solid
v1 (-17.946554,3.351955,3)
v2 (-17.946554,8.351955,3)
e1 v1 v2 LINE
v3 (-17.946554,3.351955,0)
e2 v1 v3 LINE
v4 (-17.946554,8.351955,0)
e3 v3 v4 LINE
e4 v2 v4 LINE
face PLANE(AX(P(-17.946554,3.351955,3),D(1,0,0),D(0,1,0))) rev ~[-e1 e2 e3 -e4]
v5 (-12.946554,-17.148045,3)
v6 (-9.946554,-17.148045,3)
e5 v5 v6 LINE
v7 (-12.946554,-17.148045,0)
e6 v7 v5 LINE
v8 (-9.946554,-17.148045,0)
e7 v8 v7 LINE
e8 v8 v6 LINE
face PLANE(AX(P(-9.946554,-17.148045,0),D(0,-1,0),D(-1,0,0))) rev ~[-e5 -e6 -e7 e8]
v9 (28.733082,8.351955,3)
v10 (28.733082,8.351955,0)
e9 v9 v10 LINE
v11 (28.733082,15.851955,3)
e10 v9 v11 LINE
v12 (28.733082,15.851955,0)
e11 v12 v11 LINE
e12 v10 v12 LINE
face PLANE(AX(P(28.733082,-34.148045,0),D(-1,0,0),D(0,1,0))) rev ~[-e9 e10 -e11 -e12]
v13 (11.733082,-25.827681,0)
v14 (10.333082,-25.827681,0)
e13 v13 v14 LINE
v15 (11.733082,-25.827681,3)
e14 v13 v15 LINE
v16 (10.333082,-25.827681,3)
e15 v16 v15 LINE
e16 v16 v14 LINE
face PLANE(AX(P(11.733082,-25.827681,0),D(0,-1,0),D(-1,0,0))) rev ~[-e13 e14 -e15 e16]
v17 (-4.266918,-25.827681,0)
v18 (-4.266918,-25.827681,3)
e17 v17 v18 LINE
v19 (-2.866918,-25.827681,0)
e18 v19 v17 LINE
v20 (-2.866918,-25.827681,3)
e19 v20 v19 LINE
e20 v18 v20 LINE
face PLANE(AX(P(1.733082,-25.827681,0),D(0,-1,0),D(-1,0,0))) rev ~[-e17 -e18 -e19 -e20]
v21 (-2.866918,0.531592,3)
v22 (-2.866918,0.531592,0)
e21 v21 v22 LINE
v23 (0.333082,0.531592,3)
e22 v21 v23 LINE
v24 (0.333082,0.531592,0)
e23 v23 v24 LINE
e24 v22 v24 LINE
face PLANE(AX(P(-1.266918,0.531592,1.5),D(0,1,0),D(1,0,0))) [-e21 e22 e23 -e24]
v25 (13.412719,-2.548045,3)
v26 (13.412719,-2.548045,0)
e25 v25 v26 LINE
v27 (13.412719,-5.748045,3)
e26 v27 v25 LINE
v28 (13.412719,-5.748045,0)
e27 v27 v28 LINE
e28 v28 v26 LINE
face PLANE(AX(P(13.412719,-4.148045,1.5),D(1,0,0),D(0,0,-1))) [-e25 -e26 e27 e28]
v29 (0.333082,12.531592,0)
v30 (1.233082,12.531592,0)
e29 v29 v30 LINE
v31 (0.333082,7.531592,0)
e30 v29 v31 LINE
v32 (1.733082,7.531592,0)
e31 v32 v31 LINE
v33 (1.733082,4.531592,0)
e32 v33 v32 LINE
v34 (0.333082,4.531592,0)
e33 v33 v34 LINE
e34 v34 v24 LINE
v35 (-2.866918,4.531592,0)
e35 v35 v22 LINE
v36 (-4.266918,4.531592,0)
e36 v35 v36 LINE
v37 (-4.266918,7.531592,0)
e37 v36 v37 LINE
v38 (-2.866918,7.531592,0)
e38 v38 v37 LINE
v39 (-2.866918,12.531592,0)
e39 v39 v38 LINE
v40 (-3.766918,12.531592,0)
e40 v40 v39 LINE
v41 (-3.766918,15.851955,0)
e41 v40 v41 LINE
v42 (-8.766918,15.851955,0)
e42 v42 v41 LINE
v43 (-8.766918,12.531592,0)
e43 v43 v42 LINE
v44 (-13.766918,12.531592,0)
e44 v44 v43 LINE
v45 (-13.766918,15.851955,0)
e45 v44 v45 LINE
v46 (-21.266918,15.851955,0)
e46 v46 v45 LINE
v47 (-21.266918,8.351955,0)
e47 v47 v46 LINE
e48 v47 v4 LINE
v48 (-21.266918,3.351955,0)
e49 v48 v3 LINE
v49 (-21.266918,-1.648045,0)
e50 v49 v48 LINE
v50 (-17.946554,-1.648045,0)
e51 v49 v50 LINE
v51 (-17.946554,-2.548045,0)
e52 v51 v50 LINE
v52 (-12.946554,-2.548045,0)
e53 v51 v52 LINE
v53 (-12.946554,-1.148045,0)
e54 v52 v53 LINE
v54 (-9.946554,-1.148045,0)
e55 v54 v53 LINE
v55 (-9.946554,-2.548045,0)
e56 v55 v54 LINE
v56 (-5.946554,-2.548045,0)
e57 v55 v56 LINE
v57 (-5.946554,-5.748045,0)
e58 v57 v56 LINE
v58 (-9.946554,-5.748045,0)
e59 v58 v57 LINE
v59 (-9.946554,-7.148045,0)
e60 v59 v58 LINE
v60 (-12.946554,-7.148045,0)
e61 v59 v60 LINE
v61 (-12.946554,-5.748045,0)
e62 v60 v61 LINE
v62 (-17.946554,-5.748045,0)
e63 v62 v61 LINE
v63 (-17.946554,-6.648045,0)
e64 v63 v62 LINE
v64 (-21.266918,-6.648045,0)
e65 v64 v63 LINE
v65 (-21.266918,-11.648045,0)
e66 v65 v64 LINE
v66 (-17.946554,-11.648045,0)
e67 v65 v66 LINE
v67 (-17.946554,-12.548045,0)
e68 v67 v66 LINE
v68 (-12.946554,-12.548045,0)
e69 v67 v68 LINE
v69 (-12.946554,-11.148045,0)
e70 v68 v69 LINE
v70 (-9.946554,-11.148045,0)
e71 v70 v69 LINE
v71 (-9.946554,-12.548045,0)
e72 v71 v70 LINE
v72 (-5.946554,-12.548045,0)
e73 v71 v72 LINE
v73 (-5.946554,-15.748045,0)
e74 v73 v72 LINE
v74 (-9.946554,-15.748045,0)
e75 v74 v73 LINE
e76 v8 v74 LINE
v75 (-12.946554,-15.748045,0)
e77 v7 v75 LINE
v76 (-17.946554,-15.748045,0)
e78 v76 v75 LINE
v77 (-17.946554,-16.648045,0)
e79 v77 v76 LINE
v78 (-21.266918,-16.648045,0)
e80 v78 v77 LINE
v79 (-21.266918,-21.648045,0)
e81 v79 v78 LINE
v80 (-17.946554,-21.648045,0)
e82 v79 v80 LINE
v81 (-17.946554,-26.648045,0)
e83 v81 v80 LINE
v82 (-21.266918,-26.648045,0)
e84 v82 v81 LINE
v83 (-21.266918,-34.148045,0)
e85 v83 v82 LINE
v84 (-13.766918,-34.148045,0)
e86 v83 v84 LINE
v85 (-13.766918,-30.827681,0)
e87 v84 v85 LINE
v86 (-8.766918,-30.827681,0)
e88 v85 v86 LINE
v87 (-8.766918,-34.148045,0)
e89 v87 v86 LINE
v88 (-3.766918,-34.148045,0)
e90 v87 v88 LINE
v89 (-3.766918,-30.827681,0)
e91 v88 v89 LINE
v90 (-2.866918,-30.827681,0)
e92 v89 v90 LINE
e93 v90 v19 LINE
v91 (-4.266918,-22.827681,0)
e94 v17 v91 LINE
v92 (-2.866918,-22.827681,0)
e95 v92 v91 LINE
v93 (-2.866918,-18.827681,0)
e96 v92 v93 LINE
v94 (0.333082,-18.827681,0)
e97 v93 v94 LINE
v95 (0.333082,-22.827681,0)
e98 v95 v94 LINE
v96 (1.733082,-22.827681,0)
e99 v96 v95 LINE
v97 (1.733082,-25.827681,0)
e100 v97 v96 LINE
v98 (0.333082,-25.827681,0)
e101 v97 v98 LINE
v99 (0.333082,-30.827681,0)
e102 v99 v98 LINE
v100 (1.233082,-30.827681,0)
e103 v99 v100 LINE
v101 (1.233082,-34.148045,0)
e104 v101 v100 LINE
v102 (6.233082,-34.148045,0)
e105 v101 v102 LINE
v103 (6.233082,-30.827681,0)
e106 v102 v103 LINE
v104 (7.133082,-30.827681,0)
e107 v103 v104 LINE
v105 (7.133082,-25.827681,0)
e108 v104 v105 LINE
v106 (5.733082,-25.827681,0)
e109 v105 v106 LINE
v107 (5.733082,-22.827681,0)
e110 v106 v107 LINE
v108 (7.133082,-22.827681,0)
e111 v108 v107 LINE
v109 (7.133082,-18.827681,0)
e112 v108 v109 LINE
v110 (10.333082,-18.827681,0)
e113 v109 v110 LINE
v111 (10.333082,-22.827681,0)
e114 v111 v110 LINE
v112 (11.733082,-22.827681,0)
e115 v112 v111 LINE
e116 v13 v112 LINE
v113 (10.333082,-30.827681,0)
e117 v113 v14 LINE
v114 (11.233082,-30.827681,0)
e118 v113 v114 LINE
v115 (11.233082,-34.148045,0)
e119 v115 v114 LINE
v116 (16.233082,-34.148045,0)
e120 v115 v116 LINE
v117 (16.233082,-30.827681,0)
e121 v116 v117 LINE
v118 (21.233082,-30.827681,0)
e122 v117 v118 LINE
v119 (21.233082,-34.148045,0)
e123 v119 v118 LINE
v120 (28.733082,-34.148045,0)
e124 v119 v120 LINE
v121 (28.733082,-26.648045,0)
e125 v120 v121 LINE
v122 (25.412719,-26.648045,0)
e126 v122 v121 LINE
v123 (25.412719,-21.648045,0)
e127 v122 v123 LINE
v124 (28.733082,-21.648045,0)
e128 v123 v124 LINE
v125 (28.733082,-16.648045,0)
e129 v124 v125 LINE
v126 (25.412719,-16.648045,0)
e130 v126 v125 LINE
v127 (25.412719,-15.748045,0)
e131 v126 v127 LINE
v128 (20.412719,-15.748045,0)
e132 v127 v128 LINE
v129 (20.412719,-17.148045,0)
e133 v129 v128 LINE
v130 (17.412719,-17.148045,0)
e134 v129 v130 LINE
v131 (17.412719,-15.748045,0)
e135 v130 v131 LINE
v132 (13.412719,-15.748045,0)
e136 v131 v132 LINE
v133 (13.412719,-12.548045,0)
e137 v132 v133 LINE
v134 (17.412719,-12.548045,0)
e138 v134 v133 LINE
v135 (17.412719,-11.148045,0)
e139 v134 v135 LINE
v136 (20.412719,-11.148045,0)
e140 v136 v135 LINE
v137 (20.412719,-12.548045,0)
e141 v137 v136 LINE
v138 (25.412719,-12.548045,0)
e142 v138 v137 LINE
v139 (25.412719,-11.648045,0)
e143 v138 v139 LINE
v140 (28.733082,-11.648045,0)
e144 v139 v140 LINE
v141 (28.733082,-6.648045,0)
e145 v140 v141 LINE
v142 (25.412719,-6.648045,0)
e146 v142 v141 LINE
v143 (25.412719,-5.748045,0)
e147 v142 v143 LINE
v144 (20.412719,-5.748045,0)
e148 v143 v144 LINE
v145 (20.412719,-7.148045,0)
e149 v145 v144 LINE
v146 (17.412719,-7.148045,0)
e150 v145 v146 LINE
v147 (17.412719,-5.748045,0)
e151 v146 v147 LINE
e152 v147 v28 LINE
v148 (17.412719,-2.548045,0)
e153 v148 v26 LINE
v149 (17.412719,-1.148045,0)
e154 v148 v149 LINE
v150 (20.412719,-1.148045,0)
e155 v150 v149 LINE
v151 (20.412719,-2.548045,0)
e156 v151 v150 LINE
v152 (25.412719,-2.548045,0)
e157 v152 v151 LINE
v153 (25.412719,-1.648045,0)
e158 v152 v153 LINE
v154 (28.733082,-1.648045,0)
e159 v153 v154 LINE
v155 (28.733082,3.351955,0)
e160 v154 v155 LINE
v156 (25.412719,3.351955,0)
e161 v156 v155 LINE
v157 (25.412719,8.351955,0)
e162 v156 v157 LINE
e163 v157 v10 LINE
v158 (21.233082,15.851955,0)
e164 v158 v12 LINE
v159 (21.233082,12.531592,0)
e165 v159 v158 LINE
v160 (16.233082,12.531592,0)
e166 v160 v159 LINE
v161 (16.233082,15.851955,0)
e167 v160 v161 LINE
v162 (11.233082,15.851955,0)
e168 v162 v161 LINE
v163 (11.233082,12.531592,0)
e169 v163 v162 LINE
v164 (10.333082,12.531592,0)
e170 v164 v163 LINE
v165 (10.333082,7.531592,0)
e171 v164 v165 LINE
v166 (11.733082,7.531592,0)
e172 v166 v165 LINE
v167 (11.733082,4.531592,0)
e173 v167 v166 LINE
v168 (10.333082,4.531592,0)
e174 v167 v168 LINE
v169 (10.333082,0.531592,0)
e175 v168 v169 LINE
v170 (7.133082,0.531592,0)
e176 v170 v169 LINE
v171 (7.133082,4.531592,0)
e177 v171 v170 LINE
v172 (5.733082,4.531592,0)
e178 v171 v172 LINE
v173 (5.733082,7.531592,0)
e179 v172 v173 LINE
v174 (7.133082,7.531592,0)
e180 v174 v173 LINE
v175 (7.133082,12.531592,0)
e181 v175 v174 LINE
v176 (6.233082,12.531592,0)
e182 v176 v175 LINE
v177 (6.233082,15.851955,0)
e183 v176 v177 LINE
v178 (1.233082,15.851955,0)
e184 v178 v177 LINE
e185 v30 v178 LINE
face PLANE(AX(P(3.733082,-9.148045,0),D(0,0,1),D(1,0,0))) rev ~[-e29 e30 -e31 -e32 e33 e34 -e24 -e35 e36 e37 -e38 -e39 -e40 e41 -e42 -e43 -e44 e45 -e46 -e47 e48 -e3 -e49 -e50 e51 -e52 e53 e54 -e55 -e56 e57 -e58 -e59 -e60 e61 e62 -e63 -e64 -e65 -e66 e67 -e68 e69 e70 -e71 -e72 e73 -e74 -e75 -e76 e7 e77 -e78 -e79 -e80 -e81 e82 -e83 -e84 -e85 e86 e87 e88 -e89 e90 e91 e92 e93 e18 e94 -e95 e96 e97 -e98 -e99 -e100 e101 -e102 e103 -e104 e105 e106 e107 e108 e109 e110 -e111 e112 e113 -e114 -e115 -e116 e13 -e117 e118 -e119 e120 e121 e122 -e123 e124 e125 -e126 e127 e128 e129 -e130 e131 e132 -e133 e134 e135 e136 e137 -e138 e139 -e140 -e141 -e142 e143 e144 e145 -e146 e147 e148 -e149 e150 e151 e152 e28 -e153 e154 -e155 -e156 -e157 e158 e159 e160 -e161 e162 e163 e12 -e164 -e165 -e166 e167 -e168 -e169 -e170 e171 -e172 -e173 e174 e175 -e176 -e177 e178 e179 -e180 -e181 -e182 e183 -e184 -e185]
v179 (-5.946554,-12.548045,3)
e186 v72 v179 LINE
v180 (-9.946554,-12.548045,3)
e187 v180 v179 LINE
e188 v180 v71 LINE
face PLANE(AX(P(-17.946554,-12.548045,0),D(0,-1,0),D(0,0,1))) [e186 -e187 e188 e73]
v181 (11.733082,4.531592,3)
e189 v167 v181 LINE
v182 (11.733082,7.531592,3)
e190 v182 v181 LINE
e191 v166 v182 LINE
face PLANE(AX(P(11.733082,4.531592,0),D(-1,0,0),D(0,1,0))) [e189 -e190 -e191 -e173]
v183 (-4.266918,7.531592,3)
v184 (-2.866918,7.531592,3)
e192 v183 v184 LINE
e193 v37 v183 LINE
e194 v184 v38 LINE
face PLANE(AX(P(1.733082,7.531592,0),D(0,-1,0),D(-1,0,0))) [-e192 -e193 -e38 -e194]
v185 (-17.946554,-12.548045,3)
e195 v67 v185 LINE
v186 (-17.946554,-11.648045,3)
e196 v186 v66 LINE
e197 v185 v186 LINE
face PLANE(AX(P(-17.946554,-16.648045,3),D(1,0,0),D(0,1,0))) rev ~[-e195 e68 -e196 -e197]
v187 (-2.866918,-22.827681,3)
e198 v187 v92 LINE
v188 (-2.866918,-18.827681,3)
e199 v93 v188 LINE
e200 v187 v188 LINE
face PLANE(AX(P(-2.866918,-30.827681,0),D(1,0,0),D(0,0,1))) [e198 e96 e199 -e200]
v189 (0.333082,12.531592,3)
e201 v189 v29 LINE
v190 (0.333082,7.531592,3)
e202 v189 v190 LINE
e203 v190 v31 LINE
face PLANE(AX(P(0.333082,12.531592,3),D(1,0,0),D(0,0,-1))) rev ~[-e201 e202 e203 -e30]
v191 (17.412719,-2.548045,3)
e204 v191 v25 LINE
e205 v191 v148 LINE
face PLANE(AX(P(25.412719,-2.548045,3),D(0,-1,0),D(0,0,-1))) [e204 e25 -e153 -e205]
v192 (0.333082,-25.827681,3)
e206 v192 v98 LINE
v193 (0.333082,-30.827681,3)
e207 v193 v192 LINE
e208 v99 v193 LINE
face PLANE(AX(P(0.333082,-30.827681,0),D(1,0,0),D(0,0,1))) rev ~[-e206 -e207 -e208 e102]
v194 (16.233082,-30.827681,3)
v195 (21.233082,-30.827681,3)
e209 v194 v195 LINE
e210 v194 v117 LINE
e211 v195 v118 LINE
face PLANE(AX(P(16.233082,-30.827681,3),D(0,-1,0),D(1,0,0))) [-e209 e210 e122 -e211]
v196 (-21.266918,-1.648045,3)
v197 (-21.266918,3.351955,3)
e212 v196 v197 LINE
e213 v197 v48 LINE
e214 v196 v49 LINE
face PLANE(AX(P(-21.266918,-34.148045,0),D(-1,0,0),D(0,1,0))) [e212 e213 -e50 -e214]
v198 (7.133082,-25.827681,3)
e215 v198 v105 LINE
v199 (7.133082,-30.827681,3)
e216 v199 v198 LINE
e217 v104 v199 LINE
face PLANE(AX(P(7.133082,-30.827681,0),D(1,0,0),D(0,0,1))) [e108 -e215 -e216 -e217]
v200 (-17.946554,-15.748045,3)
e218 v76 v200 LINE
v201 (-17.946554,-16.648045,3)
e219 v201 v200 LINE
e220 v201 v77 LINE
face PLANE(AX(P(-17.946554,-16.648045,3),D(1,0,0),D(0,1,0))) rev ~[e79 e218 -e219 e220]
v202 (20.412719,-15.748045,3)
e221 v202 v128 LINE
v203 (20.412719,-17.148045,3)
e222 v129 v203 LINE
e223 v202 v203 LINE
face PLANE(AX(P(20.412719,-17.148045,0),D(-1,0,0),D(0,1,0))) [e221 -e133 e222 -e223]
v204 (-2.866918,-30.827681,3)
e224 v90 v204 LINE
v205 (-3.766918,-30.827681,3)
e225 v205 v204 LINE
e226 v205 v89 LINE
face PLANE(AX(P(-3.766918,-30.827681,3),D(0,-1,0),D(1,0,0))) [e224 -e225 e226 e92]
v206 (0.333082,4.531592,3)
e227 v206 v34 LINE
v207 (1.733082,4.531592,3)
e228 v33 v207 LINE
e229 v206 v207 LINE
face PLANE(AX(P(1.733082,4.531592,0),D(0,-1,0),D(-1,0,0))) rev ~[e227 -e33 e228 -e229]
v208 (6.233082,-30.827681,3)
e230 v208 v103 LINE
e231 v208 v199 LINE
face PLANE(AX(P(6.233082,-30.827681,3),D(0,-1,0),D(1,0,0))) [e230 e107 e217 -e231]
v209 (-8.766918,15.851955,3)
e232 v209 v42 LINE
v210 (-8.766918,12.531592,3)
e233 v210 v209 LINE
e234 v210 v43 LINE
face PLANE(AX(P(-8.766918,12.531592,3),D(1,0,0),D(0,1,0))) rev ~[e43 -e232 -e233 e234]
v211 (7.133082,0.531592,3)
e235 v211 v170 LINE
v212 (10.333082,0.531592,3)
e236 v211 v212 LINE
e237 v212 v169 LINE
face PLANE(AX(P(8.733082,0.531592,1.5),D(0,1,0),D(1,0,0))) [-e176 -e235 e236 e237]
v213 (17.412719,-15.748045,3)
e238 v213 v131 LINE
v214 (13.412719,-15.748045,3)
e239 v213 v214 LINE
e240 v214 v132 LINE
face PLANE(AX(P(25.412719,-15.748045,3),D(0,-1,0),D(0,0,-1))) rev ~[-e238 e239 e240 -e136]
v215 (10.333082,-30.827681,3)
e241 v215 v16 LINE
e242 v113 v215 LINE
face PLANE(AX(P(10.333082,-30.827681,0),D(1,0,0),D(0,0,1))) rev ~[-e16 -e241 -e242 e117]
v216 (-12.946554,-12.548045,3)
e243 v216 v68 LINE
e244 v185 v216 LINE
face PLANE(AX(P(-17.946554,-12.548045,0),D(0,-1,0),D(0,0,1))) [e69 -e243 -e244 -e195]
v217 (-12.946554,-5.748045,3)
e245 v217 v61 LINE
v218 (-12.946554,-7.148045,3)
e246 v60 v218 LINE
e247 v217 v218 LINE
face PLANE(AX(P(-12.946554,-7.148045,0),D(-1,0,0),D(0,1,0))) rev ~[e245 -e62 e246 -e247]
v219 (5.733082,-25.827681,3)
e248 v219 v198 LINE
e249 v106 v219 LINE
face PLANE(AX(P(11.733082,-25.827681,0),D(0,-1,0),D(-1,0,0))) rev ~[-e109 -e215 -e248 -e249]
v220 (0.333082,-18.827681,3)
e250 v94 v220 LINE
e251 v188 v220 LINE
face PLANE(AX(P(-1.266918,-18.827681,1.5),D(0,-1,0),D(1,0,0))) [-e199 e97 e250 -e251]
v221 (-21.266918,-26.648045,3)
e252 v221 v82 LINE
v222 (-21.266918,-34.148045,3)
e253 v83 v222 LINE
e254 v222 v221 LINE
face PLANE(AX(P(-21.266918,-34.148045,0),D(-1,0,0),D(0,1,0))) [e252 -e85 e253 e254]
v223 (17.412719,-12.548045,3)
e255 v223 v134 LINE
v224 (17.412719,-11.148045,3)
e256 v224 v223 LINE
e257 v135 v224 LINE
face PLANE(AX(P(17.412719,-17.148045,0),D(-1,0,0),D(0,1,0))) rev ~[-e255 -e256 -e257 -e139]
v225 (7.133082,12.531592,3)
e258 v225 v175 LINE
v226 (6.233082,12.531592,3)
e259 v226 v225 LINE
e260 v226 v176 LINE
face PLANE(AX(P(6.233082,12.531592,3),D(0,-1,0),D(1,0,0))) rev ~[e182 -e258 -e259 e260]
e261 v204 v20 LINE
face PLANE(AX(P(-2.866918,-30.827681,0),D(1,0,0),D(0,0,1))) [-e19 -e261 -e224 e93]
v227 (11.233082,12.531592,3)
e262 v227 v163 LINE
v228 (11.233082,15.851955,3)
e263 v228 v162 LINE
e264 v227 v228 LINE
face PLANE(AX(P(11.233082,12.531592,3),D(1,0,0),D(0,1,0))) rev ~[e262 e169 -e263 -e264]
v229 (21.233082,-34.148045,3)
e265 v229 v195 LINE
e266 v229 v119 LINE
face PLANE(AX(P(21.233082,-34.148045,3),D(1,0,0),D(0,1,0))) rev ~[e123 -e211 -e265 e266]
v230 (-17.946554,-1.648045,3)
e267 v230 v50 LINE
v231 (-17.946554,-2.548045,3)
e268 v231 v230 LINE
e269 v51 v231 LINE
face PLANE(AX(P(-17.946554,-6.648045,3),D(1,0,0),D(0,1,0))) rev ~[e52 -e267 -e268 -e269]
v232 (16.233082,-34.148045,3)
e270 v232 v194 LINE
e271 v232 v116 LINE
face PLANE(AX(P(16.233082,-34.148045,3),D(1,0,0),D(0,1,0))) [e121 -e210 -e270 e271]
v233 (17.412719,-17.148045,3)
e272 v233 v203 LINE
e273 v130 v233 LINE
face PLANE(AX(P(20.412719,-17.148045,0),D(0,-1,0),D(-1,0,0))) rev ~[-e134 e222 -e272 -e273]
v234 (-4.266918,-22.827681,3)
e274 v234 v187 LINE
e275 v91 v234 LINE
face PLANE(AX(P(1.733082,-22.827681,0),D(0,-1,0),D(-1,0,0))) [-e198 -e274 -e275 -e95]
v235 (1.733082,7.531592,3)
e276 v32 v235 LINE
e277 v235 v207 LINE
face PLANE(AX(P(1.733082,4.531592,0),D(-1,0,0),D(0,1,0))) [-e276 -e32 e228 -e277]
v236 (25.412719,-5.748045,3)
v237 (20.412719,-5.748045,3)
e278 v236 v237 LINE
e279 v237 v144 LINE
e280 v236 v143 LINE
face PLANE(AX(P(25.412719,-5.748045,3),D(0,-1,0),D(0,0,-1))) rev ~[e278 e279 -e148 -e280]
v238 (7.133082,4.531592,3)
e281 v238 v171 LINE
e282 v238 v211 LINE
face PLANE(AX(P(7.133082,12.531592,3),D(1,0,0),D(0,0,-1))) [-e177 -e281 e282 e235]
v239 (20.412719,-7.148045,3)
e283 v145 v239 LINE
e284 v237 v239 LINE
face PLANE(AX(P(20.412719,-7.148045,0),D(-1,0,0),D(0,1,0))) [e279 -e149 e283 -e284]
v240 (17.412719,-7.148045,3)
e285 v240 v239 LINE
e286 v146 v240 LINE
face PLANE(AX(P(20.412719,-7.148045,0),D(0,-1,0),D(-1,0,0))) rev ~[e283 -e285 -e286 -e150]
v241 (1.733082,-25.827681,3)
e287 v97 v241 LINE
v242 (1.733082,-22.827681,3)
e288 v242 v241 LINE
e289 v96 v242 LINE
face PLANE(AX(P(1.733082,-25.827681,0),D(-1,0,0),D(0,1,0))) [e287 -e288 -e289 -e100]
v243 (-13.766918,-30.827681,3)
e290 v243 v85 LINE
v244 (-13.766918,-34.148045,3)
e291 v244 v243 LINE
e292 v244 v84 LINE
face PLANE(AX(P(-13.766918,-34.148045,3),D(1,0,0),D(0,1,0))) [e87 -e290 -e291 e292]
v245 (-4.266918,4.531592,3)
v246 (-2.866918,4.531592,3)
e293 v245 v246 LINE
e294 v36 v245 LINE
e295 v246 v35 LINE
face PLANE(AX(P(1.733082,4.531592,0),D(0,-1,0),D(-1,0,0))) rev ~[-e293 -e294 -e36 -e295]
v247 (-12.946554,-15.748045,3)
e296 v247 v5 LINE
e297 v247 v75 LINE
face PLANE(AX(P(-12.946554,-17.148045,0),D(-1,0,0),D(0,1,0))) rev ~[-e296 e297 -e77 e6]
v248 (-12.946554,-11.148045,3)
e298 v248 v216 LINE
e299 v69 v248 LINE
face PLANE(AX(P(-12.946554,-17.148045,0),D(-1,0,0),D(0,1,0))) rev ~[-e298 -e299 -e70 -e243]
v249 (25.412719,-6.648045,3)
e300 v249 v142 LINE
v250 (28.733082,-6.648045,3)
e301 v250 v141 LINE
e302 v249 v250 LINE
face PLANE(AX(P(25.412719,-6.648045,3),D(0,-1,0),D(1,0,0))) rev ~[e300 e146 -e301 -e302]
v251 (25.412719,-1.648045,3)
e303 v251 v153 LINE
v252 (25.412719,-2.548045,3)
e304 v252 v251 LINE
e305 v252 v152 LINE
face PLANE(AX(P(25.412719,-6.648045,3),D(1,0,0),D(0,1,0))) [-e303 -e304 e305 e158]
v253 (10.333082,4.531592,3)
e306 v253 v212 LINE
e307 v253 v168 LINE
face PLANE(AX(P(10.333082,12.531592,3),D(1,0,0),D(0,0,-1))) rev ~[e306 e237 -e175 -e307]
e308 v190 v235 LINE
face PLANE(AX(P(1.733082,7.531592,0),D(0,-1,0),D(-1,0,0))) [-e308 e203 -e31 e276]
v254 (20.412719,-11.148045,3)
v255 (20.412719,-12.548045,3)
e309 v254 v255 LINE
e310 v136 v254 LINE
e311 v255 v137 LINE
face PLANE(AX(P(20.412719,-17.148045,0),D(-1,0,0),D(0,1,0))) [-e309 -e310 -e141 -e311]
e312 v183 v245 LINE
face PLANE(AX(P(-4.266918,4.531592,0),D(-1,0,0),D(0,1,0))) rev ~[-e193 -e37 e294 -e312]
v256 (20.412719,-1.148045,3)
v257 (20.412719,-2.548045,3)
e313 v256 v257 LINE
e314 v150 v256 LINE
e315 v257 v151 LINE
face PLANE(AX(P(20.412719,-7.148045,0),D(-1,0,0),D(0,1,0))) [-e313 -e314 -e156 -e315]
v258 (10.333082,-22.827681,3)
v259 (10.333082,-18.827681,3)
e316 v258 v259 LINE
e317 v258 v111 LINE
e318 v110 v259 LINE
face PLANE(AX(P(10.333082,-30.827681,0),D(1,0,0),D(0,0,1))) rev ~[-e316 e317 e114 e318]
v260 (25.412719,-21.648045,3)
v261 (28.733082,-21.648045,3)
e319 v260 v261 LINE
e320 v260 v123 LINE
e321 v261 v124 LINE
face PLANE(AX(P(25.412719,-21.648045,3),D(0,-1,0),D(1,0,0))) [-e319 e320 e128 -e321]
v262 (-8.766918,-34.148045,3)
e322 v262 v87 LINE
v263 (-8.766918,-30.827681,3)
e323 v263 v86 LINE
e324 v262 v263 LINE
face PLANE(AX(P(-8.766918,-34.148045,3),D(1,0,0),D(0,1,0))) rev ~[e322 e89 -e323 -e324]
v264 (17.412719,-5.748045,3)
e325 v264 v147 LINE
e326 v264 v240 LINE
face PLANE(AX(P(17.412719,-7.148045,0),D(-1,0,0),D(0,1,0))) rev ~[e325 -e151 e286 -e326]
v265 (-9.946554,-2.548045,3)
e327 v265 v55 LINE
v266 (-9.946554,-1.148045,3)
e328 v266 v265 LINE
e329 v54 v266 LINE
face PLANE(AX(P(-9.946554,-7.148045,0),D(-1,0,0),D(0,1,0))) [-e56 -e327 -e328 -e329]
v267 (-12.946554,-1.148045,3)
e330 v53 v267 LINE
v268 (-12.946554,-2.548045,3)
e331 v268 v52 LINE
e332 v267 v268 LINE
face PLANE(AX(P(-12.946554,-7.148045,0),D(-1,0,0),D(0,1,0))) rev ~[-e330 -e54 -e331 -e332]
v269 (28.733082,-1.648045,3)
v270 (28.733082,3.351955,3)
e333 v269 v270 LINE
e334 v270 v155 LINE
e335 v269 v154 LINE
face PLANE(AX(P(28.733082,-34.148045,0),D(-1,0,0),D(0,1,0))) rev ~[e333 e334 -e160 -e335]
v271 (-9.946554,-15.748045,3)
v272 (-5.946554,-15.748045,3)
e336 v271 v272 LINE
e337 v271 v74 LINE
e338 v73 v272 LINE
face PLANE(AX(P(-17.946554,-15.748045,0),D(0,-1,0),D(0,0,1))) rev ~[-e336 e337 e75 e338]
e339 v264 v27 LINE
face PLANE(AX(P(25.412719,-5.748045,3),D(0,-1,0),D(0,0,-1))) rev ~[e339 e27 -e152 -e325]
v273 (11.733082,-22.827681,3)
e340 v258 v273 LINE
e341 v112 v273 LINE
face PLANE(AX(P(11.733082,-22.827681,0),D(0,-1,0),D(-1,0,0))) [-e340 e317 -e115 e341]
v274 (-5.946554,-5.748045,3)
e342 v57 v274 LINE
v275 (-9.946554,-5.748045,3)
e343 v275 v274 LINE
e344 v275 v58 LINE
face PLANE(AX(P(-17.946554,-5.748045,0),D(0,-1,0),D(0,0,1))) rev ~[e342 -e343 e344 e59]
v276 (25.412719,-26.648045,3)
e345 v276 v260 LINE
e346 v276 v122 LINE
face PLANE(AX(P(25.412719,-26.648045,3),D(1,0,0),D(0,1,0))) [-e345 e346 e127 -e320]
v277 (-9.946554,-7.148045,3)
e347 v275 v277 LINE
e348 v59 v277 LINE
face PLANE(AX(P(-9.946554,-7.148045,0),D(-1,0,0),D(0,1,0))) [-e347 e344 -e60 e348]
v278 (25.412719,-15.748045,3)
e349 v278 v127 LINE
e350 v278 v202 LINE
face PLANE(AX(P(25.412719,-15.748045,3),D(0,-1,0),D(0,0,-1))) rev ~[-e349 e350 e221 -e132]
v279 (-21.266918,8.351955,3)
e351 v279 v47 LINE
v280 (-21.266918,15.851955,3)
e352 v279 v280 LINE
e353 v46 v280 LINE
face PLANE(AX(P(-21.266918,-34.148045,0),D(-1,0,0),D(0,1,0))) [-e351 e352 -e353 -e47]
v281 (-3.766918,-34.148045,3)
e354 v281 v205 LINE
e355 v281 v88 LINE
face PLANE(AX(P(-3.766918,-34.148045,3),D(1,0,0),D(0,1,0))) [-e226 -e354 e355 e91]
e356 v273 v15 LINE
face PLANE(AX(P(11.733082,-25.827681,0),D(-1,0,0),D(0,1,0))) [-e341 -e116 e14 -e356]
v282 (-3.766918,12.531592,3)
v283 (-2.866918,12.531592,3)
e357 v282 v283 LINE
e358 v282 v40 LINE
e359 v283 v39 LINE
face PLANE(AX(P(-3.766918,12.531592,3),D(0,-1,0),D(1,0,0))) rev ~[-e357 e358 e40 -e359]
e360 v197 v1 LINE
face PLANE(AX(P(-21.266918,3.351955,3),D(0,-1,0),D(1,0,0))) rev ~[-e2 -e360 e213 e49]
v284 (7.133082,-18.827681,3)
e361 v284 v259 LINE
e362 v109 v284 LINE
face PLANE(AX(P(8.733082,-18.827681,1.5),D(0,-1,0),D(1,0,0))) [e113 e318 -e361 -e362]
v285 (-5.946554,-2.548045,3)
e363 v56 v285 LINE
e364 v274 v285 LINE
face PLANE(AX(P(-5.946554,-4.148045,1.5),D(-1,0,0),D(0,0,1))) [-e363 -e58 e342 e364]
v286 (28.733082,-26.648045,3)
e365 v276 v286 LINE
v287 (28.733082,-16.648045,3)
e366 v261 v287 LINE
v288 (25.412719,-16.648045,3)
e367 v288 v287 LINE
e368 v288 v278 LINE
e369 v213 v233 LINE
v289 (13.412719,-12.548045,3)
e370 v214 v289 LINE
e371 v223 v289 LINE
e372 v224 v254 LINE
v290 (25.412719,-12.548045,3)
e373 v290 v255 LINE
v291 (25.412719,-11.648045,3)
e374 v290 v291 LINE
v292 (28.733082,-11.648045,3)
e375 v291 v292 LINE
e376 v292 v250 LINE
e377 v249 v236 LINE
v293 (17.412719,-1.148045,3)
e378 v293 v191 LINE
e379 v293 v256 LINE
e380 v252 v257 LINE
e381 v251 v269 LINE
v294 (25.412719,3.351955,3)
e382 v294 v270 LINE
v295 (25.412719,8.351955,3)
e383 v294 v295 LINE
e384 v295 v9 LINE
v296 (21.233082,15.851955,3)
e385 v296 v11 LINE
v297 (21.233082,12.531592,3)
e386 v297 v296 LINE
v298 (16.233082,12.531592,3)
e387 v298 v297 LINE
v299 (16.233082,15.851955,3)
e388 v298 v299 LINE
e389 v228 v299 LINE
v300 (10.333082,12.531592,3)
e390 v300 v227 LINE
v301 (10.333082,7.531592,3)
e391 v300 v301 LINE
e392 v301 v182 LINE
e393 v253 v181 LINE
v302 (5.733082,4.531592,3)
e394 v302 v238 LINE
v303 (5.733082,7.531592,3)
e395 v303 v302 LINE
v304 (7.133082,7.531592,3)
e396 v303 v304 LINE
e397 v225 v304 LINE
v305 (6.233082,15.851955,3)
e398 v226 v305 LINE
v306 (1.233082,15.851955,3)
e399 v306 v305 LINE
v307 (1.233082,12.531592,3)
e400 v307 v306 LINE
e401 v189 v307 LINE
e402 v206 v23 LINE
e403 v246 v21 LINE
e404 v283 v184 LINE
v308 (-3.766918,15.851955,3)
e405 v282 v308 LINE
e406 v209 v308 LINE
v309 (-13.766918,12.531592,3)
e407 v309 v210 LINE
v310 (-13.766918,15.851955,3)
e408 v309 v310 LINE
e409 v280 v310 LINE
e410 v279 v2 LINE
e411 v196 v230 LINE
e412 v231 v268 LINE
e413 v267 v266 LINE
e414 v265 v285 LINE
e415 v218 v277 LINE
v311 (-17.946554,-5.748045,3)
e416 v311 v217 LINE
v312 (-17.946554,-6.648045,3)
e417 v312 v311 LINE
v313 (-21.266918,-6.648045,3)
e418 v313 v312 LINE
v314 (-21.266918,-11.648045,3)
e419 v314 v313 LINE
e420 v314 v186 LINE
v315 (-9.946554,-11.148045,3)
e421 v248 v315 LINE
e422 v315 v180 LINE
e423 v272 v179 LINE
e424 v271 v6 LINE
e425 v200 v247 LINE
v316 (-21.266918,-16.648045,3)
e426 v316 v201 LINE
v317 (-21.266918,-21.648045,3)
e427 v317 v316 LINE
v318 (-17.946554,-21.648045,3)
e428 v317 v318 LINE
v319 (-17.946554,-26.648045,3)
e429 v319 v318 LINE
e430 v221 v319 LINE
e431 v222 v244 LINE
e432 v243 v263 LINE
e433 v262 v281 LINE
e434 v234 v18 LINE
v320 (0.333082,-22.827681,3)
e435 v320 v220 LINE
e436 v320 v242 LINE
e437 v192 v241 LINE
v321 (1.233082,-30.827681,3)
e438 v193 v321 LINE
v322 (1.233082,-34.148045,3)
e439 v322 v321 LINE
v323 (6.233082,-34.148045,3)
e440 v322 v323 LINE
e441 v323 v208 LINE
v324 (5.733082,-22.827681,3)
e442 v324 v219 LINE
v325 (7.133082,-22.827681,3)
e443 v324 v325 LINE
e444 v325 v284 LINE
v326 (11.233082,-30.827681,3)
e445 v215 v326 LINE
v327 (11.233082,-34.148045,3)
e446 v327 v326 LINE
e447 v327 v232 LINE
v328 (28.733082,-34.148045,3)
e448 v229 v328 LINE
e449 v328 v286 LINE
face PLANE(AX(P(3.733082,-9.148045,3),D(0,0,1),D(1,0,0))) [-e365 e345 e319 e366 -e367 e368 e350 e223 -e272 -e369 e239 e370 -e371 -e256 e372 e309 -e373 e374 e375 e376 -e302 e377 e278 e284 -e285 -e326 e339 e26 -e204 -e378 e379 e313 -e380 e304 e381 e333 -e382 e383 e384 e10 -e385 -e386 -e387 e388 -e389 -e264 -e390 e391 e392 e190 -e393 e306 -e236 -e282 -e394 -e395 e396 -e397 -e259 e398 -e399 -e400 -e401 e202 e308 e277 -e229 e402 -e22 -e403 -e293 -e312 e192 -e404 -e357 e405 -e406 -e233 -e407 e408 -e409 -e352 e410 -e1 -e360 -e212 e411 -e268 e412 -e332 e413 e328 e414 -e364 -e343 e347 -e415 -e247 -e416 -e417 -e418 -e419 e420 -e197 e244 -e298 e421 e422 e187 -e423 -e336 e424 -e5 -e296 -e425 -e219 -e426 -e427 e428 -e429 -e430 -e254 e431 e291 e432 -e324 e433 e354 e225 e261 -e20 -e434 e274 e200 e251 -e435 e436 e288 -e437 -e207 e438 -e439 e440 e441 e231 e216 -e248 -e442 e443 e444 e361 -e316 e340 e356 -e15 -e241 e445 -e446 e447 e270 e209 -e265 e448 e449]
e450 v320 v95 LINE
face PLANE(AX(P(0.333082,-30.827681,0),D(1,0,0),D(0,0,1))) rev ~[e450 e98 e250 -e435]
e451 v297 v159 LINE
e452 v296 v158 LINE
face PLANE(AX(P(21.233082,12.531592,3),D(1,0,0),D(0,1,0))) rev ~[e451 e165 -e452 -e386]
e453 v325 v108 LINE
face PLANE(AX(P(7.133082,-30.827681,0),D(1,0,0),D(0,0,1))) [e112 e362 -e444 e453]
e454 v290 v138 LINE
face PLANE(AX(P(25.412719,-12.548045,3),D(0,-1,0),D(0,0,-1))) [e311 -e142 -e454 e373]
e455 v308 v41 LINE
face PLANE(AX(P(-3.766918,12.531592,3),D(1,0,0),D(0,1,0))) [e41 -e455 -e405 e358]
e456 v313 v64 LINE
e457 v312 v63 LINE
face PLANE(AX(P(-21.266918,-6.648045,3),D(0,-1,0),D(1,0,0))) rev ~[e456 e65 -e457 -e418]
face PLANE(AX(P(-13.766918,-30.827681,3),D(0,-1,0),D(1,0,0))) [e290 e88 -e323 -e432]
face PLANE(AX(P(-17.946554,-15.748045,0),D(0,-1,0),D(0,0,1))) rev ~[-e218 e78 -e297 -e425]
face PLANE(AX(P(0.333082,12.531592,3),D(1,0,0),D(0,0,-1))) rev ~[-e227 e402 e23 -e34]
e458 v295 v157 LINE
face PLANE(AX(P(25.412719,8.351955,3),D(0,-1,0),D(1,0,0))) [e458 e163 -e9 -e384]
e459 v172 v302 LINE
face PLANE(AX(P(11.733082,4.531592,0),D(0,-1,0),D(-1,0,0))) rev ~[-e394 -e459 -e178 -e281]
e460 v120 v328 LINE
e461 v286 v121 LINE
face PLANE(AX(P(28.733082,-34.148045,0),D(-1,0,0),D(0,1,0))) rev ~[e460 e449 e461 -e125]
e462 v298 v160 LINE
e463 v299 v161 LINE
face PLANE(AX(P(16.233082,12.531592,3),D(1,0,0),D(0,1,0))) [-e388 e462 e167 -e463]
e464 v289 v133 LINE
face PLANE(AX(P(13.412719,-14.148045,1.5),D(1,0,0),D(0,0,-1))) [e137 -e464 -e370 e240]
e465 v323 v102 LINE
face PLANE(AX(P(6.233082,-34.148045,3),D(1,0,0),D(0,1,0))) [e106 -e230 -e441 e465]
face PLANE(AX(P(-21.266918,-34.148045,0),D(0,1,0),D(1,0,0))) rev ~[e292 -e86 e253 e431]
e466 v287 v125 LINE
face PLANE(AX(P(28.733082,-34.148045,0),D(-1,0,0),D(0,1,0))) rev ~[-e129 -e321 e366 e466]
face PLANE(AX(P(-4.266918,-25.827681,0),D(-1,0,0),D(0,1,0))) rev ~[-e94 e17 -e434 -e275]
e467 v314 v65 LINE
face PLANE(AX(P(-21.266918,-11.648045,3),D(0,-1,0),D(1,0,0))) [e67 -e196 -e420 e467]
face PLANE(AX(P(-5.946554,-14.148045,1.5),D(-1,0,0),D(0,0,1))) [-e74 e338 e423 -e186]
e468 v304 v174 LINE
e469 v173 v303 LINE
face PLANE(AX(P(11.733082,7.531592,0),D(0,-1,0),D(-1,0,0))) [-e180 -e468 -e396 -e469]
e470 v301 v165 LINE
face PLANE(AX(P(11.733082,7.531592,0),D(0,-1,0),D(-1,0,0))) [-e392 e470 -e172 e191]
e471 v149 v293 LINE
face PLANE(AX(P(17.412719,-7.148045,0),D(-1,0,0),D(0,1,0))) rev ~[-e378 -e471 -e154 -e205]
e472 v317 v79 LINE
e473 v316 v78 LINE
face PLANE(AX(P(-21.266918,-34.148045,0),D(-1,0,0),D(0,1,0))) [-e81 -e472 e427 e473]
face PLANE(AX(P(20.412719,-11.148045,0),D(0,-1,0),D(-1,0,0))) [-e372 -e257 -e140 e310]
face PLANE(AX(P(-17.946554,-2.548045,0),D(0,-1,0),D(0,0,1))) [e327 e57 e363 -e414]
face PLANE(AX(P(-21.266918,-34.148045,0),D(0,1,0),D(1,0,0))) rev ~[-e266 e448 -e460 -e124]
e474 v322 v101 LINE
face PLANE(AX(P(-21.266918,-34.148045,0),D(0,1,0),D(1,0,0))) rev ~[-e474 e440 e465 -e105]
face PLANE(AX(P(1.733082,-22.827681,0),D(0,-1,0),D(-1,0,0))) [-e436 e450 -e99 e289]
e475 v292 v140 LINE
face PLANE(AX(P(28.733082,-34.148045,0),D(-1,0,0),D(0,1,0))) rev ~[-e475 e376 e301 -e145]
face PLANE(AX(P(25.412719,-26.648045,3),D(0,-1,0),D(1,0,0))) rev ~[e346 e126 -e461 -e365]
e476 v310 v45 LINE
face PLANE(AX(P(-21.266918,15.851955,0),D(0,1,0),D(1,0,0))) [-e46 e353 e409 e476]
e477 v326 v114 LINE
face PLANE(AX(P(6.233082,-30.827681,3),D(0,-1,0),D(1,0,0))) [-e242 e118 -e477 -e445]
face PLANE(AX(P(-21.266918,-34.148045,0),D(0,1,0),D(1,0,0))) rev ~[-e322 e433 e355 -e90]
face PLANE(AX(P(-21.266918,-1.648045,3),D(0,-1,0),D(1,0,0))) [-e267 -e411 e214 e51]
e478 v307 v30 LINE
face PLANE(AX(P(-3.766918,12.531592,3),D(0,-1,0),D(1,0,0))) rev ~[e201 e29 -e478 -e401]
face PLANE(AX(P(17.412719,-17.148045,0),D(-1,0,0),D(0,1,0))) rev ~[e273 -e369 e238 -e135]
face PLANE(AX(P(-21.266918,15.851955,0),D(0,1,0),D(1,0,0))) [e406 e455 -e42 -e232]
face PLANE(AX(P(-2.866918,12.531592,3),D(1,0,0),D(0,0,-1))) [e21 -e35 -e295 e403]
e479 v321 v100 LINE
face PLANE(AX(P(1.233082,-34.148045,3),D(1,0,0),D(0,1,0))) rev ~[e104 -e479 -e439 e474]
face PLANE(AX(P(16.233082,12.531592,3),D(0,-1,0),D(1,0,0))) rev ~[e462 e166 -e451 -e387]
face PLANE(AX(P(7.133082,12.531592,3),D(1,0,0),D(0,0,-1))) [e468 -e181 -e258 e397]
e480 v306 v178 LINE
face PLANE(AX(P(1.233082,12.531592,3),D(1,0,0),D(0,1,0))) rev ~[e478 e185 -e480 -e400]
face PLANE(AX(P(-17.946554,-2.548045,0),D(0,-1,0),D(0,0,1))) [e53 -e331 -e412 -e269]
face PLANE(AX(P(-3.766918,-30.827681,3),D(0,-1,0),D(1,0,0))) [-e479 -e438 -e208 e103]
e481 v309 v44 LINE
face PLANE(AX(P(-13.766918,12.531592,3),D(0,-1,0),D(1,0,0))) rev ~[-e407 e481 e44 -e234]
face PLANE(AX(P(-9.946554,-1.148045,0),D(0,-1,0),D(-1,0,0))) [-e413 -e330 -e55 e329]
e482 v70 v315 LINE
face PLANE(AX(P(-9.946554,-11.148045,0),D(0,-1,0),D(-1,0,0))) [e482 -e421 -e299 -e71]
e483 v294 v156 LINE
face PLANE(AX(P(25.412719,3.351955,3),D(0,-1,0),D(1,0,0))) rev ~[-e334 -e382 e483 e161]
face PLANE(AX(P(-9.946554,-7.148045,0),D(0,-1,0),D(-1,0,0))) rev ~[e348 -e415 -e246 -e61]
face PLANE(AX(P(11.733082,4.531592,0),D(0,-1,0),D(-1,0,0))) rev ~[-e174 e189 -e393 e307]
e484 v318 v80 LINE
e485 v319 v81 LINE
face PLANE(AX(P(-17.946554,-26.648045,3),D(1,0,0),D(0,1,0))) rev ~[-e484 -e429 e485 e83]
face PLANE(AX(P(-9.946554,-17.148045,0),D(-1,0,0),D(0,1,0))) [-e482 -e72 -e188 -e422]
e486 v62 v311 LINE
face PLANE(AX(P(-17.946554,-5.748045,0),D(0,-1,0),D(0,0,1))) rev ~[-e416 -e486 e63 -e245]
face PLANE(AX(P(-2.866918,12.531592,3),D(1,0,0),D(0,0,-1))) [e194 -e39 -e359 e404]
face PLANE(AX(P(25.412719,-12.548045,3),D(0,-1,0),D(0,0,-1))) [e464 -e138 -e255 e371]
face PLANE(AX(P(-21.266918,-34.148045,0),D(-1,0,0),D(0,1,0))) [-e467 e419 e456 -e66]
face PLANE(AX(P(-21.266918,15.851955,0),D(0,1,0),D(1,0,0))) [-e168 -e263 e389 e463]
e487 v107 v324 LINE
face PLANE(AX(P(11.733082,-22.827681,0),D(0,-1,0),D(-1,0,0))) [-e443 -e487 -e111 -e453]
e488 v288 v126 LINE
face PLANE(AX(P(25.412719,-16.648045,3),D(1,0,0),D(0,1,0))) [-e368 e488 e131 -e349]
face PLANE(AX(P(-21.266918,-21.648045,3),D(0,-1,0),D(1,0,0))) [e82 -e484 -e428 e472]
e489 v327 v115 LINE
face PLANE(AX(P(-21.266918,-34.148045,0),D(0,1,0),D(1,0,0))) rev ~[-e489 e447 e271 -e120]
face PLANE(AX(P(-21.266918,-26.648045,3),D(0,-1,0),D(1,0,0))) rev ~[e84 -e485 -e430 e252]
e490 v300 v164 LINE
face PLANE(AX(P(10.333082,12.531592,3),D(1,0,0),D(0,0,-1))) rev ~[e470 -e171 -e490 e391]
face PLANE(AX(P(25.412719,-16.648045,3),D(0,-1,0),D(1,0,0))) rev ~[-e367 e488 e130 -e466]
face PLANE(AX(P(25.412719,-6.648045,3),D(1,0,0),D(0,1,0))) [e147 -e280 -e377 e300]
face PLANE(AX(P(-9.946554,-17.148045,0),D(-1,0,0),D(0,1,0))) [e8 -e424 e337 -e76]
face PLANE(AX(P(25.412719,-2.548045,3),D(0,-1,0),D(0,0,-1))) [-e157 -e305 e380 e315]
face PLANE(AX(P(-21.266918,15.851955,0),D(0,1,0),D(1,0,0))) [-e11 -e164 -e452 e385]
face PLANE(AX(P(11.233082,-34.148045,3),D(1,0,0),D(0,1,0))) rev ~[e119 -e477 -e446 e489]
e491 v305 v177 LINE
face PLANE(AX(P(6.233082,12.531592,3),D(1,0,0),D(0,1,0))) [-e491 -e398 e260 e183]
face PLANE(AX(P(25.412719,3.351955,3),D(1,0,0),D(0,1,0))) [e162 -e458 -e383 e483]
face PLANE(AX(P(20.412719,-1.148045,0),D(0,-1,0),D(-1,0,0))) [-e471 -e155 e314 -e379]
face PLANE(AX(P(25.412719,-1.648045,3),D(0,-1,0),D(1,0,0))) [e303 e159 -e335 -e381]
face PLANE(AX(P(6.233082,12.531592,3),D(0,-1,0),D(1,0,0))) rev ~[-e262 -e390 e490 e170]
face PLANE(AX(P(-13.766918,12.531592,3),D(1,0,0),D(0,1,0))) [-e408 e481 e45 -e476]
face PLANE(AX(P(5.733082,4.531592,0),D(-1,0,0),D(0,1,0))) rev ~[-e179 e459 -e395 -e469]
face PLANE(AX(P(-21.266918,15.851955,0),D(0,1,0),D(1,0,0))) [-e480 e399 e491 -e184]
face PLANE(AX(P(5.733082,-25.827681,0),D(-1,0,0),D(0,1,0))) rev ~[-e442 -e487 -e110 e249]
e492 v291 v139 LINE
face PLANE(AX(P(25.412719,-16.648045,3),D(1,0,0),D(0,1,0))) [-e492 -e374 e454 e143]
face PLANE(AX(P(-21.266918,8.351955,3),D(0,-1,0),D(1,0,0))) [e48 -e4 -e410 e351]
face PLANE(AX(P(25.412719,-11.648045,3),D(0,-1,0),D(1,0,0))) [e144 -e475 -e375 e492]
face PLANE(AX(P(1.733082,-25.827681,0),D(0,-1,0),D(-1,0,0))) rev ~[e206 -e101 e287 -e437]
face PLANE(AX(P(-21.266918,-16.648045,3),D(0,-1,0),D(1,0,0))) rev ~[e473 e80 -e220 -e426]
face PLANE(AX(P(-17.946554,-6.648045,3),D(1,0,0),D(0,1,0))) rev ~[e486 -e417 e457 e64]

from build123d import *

# Parameters (mm, degrees)
SKETCH1_W           = 50
SKETCH1_H           = 50
BOSS_EXTRUDE1_DEPTH = 3
SKETCH2_W           = 5
SKETCH2_H           = 3.320363524
SKETCH2_W_2         = 3.320363524
SKETCH2_H_2         = 5
CUT_EXTRUDE1_DEPTH  = 3
SKETCH4_W           = 3.2
SKETCH4_H           = 3
CUT_EXTRUDE2_DEPTH  = 12
SKETCH5_W           = 3
SKETCH5_H           = 3.2
CUT_EXTRUDE3_DEPTH  = 12
SKETCH6_W           = 3.2
SKETCH6_H           = 3
CUT_EXTRUDE4_DEPTH  = 12
SKETCH8_W           = 3
SKETCH8_H           = 3.2
CUT_EXTRUDE5_DEPTH  = 12
SKETCH9_W           = 6
SKETCH9_H           = 3
SKETCH9_W_2         = 3
SKETCH9_H_2         = 6
CUT_EXTRUDE6_DEPTH  = 12


with BuildPart() as part:
    # Sketch1 → Boss-Extrude1 (new body)
    with BuildSketch(Plane.XY):
        with Locations((3.733082315, -9.148044693)):
            Rectangle(SKETCH1_W, SKETCH1_H)
    extrude(amount=BOSS_EXTRUDE1_DEPTH)

    # Sketch2 → Cut-Extrude1 (cut)
    with BuildSketch(Plane.XY.offset(3)):
        with Locations((-11.266917685, 14.191773545)):
            Rectangle(SKETCH2_W, SKETCH2_H)
        with Locations((8.733082315, 14.191773545)):
            Rectangle(SKETCH2_W, SKETCH2_H)
        with Locations((-1.266917685, 14.191773545)):
            Rectangle(SKETCH2_W, SKETCH2_H)
        with Locations((18.733082315, 14.191773545)):
            Rectangle(SKETCH2_W, SKETCH2_H)
        with Locations((27.072900553, 5.851955307)):
            Rectangle(SKETCH2_W_2, SKETCH2_H_2)
        with Locations((27.072900553, -4.148044693)):
            Rectangle(SKETCH2_W_2, SKETCH2_H_2)
        with Locations((27.072900553, -14.148044693)):
            Rectangle(SKETCH2_W_2, SKETCH2_H_2)
        with Locations((27.072900553, -24.148044693)):
            Rectangle(SKETCH2_W_2, SKETCH2_H_2)
        with Locations((18.733082315, -32.487862931)):
            Rectangle(SKETCH2_W, SKETCH2_H)
        with Locations((8.733082315, -32.487862931)):
            Rectangle(SKETCH2_W, SKETCH2_H)
        with Locations((-1.266917685, -32.487862931)):
            Rectangle(SKETCH2_W, SKETCH2_H)
        with Locations((-11.266917685, -32.487862931)):
            Rectangle(SKETCH2_W, SKETCH2_H)
        with Locations((-19.606735923, -24.148044693)):
            Rectangle(SKETCH2_W_2, SKETCH2_H_2)
        with Locations((-19.606735923, -14.148044693)):
            Rectangle(SKETCH2_W_2, SKETCH2_H_2)
        with Locations((-19.606735923, -4.148044693)):
            Rectangle(SKETCH2_W_2, SKETCH2_H_2)
        with Locations((-19.606735923, 5.851955307)):
            Rectangle(SKETCH2_W_2, SKETCH2_H_2)
    extrude(amount=-CUT_EXTRUDE1_DEPTH, mode=Mode.SUBTRACT)

    # Sketch4 → Cut-Extrude2 (cut)
    with BuildSketch(Plane(origin=(0, 12.531591783, 0), x_dir=(1, 0, 0), z_dir=(0, 1, 0))):
        with Locations((-1.266917685, -1.5)):
            Rectangle(SKETCH4_W, SKETCH4_H)
        with Locations((8.733082315, -1.5)):
            Rectangle(SKETCH4_W, SKETCH4_H)
    extrude(amount=-CUT_EXTRUDE2_DEPTH, mode=Mode.SUBTRACT)

    # Sketch5 → Cut-Extrude3 (cut)
    with BuildSketch(Plane(origin=(25.412718791, 0, 0), x_dir=(0, 0, -1), z_dir=(1, 0, 0))):
        with Locations((-1.5, -4.148044693)):
            Rectangle(SKETCH5_W, SKETCH5_H)
        with Locations((-1.5, -14.148044693)):
            Rectangle(SKETCH5_W, SKETCH5_H)
    extrude(amount=-CUT_EXTRUDE3_DEPTH, mode=Mode.SUBTRACT)

    # Sketch6 → Cut-Extrude4 (cut)
    with BuildSketch(Plane.XZ.offset(30.827681169)):
        with Locations((-1.266917685, 1.5)):
            Rectangle(SKETCH6_W, SKETCH6_H)
        with Locations((8.733082315, 1.5)):
            Rectangle(SKETCH6_W, SKETCH6_H)
    extrude(amount=-CUT_EXTRUDE4_DEPTH, mode=Mode.SUBTRACT)

    # Sketch8 → Cut-Extrude5 (cut)
    with BuildSketch(Plane.ZY.offset(17.946554161)):
        with Locations((1.5, -14.148044693)):
            Rectangle(SKETCH8_W, SKETCH8_H)
        with Locations((1.5, -4.148044693)):
            Rectangle(SKETCH8_W, SKETCH8_H)
    extrude(amount=-CUT_EXTRUDE5_DEPTH, mode=Mode.SUBTRACT)

    # Sketch9 → Cut-Extrude6 (cut)
    with BuildSketch(Plane(origin=(0, 0, 0), x_dir=(-1, 0, 0), z_dir=(0, 0, -1))):
        with Locations((-8.733082315, -24.327681169)):
            Rectangle(SKETCH9_W, SKETCH9_H)
        with Locations((1.266917685, -24.327681169)):
            Rectangle(SKETCH9_W, SKETCH9_H)
        with Locations((-18.912718791, -4.148044693)):
            Rectangle(SKETCH9_W_2, SKETCH9_H_2)
        with Locations((-18.912718791, -14.148044693)):
            Rectangle(SKETCH9_W_2, SKETCH9_H_2)
        with Locations((1.266917685, 6.031591783)):
            Rectangle(SKETCH9_W, SKETCH9_H)
        with Locations((-8.733082315, 6.031591783)):
            Rectangle(SKETCH9_W, SKETCH9_H)
        with Locations((11.446554161, -14.148044693)):
            Rectangle(SKETCH9_W_2, SKETCH9_H_2)
        with Locations((11.446554161, -4.148044693)):
            Rectangle(SKETCH9_W_2, SKETCH9_H_2)
    extrude(amount=-CUT_EXTRUDE6_DEPTH, mode=Mode.SUBTRACT)


solid = part.part
